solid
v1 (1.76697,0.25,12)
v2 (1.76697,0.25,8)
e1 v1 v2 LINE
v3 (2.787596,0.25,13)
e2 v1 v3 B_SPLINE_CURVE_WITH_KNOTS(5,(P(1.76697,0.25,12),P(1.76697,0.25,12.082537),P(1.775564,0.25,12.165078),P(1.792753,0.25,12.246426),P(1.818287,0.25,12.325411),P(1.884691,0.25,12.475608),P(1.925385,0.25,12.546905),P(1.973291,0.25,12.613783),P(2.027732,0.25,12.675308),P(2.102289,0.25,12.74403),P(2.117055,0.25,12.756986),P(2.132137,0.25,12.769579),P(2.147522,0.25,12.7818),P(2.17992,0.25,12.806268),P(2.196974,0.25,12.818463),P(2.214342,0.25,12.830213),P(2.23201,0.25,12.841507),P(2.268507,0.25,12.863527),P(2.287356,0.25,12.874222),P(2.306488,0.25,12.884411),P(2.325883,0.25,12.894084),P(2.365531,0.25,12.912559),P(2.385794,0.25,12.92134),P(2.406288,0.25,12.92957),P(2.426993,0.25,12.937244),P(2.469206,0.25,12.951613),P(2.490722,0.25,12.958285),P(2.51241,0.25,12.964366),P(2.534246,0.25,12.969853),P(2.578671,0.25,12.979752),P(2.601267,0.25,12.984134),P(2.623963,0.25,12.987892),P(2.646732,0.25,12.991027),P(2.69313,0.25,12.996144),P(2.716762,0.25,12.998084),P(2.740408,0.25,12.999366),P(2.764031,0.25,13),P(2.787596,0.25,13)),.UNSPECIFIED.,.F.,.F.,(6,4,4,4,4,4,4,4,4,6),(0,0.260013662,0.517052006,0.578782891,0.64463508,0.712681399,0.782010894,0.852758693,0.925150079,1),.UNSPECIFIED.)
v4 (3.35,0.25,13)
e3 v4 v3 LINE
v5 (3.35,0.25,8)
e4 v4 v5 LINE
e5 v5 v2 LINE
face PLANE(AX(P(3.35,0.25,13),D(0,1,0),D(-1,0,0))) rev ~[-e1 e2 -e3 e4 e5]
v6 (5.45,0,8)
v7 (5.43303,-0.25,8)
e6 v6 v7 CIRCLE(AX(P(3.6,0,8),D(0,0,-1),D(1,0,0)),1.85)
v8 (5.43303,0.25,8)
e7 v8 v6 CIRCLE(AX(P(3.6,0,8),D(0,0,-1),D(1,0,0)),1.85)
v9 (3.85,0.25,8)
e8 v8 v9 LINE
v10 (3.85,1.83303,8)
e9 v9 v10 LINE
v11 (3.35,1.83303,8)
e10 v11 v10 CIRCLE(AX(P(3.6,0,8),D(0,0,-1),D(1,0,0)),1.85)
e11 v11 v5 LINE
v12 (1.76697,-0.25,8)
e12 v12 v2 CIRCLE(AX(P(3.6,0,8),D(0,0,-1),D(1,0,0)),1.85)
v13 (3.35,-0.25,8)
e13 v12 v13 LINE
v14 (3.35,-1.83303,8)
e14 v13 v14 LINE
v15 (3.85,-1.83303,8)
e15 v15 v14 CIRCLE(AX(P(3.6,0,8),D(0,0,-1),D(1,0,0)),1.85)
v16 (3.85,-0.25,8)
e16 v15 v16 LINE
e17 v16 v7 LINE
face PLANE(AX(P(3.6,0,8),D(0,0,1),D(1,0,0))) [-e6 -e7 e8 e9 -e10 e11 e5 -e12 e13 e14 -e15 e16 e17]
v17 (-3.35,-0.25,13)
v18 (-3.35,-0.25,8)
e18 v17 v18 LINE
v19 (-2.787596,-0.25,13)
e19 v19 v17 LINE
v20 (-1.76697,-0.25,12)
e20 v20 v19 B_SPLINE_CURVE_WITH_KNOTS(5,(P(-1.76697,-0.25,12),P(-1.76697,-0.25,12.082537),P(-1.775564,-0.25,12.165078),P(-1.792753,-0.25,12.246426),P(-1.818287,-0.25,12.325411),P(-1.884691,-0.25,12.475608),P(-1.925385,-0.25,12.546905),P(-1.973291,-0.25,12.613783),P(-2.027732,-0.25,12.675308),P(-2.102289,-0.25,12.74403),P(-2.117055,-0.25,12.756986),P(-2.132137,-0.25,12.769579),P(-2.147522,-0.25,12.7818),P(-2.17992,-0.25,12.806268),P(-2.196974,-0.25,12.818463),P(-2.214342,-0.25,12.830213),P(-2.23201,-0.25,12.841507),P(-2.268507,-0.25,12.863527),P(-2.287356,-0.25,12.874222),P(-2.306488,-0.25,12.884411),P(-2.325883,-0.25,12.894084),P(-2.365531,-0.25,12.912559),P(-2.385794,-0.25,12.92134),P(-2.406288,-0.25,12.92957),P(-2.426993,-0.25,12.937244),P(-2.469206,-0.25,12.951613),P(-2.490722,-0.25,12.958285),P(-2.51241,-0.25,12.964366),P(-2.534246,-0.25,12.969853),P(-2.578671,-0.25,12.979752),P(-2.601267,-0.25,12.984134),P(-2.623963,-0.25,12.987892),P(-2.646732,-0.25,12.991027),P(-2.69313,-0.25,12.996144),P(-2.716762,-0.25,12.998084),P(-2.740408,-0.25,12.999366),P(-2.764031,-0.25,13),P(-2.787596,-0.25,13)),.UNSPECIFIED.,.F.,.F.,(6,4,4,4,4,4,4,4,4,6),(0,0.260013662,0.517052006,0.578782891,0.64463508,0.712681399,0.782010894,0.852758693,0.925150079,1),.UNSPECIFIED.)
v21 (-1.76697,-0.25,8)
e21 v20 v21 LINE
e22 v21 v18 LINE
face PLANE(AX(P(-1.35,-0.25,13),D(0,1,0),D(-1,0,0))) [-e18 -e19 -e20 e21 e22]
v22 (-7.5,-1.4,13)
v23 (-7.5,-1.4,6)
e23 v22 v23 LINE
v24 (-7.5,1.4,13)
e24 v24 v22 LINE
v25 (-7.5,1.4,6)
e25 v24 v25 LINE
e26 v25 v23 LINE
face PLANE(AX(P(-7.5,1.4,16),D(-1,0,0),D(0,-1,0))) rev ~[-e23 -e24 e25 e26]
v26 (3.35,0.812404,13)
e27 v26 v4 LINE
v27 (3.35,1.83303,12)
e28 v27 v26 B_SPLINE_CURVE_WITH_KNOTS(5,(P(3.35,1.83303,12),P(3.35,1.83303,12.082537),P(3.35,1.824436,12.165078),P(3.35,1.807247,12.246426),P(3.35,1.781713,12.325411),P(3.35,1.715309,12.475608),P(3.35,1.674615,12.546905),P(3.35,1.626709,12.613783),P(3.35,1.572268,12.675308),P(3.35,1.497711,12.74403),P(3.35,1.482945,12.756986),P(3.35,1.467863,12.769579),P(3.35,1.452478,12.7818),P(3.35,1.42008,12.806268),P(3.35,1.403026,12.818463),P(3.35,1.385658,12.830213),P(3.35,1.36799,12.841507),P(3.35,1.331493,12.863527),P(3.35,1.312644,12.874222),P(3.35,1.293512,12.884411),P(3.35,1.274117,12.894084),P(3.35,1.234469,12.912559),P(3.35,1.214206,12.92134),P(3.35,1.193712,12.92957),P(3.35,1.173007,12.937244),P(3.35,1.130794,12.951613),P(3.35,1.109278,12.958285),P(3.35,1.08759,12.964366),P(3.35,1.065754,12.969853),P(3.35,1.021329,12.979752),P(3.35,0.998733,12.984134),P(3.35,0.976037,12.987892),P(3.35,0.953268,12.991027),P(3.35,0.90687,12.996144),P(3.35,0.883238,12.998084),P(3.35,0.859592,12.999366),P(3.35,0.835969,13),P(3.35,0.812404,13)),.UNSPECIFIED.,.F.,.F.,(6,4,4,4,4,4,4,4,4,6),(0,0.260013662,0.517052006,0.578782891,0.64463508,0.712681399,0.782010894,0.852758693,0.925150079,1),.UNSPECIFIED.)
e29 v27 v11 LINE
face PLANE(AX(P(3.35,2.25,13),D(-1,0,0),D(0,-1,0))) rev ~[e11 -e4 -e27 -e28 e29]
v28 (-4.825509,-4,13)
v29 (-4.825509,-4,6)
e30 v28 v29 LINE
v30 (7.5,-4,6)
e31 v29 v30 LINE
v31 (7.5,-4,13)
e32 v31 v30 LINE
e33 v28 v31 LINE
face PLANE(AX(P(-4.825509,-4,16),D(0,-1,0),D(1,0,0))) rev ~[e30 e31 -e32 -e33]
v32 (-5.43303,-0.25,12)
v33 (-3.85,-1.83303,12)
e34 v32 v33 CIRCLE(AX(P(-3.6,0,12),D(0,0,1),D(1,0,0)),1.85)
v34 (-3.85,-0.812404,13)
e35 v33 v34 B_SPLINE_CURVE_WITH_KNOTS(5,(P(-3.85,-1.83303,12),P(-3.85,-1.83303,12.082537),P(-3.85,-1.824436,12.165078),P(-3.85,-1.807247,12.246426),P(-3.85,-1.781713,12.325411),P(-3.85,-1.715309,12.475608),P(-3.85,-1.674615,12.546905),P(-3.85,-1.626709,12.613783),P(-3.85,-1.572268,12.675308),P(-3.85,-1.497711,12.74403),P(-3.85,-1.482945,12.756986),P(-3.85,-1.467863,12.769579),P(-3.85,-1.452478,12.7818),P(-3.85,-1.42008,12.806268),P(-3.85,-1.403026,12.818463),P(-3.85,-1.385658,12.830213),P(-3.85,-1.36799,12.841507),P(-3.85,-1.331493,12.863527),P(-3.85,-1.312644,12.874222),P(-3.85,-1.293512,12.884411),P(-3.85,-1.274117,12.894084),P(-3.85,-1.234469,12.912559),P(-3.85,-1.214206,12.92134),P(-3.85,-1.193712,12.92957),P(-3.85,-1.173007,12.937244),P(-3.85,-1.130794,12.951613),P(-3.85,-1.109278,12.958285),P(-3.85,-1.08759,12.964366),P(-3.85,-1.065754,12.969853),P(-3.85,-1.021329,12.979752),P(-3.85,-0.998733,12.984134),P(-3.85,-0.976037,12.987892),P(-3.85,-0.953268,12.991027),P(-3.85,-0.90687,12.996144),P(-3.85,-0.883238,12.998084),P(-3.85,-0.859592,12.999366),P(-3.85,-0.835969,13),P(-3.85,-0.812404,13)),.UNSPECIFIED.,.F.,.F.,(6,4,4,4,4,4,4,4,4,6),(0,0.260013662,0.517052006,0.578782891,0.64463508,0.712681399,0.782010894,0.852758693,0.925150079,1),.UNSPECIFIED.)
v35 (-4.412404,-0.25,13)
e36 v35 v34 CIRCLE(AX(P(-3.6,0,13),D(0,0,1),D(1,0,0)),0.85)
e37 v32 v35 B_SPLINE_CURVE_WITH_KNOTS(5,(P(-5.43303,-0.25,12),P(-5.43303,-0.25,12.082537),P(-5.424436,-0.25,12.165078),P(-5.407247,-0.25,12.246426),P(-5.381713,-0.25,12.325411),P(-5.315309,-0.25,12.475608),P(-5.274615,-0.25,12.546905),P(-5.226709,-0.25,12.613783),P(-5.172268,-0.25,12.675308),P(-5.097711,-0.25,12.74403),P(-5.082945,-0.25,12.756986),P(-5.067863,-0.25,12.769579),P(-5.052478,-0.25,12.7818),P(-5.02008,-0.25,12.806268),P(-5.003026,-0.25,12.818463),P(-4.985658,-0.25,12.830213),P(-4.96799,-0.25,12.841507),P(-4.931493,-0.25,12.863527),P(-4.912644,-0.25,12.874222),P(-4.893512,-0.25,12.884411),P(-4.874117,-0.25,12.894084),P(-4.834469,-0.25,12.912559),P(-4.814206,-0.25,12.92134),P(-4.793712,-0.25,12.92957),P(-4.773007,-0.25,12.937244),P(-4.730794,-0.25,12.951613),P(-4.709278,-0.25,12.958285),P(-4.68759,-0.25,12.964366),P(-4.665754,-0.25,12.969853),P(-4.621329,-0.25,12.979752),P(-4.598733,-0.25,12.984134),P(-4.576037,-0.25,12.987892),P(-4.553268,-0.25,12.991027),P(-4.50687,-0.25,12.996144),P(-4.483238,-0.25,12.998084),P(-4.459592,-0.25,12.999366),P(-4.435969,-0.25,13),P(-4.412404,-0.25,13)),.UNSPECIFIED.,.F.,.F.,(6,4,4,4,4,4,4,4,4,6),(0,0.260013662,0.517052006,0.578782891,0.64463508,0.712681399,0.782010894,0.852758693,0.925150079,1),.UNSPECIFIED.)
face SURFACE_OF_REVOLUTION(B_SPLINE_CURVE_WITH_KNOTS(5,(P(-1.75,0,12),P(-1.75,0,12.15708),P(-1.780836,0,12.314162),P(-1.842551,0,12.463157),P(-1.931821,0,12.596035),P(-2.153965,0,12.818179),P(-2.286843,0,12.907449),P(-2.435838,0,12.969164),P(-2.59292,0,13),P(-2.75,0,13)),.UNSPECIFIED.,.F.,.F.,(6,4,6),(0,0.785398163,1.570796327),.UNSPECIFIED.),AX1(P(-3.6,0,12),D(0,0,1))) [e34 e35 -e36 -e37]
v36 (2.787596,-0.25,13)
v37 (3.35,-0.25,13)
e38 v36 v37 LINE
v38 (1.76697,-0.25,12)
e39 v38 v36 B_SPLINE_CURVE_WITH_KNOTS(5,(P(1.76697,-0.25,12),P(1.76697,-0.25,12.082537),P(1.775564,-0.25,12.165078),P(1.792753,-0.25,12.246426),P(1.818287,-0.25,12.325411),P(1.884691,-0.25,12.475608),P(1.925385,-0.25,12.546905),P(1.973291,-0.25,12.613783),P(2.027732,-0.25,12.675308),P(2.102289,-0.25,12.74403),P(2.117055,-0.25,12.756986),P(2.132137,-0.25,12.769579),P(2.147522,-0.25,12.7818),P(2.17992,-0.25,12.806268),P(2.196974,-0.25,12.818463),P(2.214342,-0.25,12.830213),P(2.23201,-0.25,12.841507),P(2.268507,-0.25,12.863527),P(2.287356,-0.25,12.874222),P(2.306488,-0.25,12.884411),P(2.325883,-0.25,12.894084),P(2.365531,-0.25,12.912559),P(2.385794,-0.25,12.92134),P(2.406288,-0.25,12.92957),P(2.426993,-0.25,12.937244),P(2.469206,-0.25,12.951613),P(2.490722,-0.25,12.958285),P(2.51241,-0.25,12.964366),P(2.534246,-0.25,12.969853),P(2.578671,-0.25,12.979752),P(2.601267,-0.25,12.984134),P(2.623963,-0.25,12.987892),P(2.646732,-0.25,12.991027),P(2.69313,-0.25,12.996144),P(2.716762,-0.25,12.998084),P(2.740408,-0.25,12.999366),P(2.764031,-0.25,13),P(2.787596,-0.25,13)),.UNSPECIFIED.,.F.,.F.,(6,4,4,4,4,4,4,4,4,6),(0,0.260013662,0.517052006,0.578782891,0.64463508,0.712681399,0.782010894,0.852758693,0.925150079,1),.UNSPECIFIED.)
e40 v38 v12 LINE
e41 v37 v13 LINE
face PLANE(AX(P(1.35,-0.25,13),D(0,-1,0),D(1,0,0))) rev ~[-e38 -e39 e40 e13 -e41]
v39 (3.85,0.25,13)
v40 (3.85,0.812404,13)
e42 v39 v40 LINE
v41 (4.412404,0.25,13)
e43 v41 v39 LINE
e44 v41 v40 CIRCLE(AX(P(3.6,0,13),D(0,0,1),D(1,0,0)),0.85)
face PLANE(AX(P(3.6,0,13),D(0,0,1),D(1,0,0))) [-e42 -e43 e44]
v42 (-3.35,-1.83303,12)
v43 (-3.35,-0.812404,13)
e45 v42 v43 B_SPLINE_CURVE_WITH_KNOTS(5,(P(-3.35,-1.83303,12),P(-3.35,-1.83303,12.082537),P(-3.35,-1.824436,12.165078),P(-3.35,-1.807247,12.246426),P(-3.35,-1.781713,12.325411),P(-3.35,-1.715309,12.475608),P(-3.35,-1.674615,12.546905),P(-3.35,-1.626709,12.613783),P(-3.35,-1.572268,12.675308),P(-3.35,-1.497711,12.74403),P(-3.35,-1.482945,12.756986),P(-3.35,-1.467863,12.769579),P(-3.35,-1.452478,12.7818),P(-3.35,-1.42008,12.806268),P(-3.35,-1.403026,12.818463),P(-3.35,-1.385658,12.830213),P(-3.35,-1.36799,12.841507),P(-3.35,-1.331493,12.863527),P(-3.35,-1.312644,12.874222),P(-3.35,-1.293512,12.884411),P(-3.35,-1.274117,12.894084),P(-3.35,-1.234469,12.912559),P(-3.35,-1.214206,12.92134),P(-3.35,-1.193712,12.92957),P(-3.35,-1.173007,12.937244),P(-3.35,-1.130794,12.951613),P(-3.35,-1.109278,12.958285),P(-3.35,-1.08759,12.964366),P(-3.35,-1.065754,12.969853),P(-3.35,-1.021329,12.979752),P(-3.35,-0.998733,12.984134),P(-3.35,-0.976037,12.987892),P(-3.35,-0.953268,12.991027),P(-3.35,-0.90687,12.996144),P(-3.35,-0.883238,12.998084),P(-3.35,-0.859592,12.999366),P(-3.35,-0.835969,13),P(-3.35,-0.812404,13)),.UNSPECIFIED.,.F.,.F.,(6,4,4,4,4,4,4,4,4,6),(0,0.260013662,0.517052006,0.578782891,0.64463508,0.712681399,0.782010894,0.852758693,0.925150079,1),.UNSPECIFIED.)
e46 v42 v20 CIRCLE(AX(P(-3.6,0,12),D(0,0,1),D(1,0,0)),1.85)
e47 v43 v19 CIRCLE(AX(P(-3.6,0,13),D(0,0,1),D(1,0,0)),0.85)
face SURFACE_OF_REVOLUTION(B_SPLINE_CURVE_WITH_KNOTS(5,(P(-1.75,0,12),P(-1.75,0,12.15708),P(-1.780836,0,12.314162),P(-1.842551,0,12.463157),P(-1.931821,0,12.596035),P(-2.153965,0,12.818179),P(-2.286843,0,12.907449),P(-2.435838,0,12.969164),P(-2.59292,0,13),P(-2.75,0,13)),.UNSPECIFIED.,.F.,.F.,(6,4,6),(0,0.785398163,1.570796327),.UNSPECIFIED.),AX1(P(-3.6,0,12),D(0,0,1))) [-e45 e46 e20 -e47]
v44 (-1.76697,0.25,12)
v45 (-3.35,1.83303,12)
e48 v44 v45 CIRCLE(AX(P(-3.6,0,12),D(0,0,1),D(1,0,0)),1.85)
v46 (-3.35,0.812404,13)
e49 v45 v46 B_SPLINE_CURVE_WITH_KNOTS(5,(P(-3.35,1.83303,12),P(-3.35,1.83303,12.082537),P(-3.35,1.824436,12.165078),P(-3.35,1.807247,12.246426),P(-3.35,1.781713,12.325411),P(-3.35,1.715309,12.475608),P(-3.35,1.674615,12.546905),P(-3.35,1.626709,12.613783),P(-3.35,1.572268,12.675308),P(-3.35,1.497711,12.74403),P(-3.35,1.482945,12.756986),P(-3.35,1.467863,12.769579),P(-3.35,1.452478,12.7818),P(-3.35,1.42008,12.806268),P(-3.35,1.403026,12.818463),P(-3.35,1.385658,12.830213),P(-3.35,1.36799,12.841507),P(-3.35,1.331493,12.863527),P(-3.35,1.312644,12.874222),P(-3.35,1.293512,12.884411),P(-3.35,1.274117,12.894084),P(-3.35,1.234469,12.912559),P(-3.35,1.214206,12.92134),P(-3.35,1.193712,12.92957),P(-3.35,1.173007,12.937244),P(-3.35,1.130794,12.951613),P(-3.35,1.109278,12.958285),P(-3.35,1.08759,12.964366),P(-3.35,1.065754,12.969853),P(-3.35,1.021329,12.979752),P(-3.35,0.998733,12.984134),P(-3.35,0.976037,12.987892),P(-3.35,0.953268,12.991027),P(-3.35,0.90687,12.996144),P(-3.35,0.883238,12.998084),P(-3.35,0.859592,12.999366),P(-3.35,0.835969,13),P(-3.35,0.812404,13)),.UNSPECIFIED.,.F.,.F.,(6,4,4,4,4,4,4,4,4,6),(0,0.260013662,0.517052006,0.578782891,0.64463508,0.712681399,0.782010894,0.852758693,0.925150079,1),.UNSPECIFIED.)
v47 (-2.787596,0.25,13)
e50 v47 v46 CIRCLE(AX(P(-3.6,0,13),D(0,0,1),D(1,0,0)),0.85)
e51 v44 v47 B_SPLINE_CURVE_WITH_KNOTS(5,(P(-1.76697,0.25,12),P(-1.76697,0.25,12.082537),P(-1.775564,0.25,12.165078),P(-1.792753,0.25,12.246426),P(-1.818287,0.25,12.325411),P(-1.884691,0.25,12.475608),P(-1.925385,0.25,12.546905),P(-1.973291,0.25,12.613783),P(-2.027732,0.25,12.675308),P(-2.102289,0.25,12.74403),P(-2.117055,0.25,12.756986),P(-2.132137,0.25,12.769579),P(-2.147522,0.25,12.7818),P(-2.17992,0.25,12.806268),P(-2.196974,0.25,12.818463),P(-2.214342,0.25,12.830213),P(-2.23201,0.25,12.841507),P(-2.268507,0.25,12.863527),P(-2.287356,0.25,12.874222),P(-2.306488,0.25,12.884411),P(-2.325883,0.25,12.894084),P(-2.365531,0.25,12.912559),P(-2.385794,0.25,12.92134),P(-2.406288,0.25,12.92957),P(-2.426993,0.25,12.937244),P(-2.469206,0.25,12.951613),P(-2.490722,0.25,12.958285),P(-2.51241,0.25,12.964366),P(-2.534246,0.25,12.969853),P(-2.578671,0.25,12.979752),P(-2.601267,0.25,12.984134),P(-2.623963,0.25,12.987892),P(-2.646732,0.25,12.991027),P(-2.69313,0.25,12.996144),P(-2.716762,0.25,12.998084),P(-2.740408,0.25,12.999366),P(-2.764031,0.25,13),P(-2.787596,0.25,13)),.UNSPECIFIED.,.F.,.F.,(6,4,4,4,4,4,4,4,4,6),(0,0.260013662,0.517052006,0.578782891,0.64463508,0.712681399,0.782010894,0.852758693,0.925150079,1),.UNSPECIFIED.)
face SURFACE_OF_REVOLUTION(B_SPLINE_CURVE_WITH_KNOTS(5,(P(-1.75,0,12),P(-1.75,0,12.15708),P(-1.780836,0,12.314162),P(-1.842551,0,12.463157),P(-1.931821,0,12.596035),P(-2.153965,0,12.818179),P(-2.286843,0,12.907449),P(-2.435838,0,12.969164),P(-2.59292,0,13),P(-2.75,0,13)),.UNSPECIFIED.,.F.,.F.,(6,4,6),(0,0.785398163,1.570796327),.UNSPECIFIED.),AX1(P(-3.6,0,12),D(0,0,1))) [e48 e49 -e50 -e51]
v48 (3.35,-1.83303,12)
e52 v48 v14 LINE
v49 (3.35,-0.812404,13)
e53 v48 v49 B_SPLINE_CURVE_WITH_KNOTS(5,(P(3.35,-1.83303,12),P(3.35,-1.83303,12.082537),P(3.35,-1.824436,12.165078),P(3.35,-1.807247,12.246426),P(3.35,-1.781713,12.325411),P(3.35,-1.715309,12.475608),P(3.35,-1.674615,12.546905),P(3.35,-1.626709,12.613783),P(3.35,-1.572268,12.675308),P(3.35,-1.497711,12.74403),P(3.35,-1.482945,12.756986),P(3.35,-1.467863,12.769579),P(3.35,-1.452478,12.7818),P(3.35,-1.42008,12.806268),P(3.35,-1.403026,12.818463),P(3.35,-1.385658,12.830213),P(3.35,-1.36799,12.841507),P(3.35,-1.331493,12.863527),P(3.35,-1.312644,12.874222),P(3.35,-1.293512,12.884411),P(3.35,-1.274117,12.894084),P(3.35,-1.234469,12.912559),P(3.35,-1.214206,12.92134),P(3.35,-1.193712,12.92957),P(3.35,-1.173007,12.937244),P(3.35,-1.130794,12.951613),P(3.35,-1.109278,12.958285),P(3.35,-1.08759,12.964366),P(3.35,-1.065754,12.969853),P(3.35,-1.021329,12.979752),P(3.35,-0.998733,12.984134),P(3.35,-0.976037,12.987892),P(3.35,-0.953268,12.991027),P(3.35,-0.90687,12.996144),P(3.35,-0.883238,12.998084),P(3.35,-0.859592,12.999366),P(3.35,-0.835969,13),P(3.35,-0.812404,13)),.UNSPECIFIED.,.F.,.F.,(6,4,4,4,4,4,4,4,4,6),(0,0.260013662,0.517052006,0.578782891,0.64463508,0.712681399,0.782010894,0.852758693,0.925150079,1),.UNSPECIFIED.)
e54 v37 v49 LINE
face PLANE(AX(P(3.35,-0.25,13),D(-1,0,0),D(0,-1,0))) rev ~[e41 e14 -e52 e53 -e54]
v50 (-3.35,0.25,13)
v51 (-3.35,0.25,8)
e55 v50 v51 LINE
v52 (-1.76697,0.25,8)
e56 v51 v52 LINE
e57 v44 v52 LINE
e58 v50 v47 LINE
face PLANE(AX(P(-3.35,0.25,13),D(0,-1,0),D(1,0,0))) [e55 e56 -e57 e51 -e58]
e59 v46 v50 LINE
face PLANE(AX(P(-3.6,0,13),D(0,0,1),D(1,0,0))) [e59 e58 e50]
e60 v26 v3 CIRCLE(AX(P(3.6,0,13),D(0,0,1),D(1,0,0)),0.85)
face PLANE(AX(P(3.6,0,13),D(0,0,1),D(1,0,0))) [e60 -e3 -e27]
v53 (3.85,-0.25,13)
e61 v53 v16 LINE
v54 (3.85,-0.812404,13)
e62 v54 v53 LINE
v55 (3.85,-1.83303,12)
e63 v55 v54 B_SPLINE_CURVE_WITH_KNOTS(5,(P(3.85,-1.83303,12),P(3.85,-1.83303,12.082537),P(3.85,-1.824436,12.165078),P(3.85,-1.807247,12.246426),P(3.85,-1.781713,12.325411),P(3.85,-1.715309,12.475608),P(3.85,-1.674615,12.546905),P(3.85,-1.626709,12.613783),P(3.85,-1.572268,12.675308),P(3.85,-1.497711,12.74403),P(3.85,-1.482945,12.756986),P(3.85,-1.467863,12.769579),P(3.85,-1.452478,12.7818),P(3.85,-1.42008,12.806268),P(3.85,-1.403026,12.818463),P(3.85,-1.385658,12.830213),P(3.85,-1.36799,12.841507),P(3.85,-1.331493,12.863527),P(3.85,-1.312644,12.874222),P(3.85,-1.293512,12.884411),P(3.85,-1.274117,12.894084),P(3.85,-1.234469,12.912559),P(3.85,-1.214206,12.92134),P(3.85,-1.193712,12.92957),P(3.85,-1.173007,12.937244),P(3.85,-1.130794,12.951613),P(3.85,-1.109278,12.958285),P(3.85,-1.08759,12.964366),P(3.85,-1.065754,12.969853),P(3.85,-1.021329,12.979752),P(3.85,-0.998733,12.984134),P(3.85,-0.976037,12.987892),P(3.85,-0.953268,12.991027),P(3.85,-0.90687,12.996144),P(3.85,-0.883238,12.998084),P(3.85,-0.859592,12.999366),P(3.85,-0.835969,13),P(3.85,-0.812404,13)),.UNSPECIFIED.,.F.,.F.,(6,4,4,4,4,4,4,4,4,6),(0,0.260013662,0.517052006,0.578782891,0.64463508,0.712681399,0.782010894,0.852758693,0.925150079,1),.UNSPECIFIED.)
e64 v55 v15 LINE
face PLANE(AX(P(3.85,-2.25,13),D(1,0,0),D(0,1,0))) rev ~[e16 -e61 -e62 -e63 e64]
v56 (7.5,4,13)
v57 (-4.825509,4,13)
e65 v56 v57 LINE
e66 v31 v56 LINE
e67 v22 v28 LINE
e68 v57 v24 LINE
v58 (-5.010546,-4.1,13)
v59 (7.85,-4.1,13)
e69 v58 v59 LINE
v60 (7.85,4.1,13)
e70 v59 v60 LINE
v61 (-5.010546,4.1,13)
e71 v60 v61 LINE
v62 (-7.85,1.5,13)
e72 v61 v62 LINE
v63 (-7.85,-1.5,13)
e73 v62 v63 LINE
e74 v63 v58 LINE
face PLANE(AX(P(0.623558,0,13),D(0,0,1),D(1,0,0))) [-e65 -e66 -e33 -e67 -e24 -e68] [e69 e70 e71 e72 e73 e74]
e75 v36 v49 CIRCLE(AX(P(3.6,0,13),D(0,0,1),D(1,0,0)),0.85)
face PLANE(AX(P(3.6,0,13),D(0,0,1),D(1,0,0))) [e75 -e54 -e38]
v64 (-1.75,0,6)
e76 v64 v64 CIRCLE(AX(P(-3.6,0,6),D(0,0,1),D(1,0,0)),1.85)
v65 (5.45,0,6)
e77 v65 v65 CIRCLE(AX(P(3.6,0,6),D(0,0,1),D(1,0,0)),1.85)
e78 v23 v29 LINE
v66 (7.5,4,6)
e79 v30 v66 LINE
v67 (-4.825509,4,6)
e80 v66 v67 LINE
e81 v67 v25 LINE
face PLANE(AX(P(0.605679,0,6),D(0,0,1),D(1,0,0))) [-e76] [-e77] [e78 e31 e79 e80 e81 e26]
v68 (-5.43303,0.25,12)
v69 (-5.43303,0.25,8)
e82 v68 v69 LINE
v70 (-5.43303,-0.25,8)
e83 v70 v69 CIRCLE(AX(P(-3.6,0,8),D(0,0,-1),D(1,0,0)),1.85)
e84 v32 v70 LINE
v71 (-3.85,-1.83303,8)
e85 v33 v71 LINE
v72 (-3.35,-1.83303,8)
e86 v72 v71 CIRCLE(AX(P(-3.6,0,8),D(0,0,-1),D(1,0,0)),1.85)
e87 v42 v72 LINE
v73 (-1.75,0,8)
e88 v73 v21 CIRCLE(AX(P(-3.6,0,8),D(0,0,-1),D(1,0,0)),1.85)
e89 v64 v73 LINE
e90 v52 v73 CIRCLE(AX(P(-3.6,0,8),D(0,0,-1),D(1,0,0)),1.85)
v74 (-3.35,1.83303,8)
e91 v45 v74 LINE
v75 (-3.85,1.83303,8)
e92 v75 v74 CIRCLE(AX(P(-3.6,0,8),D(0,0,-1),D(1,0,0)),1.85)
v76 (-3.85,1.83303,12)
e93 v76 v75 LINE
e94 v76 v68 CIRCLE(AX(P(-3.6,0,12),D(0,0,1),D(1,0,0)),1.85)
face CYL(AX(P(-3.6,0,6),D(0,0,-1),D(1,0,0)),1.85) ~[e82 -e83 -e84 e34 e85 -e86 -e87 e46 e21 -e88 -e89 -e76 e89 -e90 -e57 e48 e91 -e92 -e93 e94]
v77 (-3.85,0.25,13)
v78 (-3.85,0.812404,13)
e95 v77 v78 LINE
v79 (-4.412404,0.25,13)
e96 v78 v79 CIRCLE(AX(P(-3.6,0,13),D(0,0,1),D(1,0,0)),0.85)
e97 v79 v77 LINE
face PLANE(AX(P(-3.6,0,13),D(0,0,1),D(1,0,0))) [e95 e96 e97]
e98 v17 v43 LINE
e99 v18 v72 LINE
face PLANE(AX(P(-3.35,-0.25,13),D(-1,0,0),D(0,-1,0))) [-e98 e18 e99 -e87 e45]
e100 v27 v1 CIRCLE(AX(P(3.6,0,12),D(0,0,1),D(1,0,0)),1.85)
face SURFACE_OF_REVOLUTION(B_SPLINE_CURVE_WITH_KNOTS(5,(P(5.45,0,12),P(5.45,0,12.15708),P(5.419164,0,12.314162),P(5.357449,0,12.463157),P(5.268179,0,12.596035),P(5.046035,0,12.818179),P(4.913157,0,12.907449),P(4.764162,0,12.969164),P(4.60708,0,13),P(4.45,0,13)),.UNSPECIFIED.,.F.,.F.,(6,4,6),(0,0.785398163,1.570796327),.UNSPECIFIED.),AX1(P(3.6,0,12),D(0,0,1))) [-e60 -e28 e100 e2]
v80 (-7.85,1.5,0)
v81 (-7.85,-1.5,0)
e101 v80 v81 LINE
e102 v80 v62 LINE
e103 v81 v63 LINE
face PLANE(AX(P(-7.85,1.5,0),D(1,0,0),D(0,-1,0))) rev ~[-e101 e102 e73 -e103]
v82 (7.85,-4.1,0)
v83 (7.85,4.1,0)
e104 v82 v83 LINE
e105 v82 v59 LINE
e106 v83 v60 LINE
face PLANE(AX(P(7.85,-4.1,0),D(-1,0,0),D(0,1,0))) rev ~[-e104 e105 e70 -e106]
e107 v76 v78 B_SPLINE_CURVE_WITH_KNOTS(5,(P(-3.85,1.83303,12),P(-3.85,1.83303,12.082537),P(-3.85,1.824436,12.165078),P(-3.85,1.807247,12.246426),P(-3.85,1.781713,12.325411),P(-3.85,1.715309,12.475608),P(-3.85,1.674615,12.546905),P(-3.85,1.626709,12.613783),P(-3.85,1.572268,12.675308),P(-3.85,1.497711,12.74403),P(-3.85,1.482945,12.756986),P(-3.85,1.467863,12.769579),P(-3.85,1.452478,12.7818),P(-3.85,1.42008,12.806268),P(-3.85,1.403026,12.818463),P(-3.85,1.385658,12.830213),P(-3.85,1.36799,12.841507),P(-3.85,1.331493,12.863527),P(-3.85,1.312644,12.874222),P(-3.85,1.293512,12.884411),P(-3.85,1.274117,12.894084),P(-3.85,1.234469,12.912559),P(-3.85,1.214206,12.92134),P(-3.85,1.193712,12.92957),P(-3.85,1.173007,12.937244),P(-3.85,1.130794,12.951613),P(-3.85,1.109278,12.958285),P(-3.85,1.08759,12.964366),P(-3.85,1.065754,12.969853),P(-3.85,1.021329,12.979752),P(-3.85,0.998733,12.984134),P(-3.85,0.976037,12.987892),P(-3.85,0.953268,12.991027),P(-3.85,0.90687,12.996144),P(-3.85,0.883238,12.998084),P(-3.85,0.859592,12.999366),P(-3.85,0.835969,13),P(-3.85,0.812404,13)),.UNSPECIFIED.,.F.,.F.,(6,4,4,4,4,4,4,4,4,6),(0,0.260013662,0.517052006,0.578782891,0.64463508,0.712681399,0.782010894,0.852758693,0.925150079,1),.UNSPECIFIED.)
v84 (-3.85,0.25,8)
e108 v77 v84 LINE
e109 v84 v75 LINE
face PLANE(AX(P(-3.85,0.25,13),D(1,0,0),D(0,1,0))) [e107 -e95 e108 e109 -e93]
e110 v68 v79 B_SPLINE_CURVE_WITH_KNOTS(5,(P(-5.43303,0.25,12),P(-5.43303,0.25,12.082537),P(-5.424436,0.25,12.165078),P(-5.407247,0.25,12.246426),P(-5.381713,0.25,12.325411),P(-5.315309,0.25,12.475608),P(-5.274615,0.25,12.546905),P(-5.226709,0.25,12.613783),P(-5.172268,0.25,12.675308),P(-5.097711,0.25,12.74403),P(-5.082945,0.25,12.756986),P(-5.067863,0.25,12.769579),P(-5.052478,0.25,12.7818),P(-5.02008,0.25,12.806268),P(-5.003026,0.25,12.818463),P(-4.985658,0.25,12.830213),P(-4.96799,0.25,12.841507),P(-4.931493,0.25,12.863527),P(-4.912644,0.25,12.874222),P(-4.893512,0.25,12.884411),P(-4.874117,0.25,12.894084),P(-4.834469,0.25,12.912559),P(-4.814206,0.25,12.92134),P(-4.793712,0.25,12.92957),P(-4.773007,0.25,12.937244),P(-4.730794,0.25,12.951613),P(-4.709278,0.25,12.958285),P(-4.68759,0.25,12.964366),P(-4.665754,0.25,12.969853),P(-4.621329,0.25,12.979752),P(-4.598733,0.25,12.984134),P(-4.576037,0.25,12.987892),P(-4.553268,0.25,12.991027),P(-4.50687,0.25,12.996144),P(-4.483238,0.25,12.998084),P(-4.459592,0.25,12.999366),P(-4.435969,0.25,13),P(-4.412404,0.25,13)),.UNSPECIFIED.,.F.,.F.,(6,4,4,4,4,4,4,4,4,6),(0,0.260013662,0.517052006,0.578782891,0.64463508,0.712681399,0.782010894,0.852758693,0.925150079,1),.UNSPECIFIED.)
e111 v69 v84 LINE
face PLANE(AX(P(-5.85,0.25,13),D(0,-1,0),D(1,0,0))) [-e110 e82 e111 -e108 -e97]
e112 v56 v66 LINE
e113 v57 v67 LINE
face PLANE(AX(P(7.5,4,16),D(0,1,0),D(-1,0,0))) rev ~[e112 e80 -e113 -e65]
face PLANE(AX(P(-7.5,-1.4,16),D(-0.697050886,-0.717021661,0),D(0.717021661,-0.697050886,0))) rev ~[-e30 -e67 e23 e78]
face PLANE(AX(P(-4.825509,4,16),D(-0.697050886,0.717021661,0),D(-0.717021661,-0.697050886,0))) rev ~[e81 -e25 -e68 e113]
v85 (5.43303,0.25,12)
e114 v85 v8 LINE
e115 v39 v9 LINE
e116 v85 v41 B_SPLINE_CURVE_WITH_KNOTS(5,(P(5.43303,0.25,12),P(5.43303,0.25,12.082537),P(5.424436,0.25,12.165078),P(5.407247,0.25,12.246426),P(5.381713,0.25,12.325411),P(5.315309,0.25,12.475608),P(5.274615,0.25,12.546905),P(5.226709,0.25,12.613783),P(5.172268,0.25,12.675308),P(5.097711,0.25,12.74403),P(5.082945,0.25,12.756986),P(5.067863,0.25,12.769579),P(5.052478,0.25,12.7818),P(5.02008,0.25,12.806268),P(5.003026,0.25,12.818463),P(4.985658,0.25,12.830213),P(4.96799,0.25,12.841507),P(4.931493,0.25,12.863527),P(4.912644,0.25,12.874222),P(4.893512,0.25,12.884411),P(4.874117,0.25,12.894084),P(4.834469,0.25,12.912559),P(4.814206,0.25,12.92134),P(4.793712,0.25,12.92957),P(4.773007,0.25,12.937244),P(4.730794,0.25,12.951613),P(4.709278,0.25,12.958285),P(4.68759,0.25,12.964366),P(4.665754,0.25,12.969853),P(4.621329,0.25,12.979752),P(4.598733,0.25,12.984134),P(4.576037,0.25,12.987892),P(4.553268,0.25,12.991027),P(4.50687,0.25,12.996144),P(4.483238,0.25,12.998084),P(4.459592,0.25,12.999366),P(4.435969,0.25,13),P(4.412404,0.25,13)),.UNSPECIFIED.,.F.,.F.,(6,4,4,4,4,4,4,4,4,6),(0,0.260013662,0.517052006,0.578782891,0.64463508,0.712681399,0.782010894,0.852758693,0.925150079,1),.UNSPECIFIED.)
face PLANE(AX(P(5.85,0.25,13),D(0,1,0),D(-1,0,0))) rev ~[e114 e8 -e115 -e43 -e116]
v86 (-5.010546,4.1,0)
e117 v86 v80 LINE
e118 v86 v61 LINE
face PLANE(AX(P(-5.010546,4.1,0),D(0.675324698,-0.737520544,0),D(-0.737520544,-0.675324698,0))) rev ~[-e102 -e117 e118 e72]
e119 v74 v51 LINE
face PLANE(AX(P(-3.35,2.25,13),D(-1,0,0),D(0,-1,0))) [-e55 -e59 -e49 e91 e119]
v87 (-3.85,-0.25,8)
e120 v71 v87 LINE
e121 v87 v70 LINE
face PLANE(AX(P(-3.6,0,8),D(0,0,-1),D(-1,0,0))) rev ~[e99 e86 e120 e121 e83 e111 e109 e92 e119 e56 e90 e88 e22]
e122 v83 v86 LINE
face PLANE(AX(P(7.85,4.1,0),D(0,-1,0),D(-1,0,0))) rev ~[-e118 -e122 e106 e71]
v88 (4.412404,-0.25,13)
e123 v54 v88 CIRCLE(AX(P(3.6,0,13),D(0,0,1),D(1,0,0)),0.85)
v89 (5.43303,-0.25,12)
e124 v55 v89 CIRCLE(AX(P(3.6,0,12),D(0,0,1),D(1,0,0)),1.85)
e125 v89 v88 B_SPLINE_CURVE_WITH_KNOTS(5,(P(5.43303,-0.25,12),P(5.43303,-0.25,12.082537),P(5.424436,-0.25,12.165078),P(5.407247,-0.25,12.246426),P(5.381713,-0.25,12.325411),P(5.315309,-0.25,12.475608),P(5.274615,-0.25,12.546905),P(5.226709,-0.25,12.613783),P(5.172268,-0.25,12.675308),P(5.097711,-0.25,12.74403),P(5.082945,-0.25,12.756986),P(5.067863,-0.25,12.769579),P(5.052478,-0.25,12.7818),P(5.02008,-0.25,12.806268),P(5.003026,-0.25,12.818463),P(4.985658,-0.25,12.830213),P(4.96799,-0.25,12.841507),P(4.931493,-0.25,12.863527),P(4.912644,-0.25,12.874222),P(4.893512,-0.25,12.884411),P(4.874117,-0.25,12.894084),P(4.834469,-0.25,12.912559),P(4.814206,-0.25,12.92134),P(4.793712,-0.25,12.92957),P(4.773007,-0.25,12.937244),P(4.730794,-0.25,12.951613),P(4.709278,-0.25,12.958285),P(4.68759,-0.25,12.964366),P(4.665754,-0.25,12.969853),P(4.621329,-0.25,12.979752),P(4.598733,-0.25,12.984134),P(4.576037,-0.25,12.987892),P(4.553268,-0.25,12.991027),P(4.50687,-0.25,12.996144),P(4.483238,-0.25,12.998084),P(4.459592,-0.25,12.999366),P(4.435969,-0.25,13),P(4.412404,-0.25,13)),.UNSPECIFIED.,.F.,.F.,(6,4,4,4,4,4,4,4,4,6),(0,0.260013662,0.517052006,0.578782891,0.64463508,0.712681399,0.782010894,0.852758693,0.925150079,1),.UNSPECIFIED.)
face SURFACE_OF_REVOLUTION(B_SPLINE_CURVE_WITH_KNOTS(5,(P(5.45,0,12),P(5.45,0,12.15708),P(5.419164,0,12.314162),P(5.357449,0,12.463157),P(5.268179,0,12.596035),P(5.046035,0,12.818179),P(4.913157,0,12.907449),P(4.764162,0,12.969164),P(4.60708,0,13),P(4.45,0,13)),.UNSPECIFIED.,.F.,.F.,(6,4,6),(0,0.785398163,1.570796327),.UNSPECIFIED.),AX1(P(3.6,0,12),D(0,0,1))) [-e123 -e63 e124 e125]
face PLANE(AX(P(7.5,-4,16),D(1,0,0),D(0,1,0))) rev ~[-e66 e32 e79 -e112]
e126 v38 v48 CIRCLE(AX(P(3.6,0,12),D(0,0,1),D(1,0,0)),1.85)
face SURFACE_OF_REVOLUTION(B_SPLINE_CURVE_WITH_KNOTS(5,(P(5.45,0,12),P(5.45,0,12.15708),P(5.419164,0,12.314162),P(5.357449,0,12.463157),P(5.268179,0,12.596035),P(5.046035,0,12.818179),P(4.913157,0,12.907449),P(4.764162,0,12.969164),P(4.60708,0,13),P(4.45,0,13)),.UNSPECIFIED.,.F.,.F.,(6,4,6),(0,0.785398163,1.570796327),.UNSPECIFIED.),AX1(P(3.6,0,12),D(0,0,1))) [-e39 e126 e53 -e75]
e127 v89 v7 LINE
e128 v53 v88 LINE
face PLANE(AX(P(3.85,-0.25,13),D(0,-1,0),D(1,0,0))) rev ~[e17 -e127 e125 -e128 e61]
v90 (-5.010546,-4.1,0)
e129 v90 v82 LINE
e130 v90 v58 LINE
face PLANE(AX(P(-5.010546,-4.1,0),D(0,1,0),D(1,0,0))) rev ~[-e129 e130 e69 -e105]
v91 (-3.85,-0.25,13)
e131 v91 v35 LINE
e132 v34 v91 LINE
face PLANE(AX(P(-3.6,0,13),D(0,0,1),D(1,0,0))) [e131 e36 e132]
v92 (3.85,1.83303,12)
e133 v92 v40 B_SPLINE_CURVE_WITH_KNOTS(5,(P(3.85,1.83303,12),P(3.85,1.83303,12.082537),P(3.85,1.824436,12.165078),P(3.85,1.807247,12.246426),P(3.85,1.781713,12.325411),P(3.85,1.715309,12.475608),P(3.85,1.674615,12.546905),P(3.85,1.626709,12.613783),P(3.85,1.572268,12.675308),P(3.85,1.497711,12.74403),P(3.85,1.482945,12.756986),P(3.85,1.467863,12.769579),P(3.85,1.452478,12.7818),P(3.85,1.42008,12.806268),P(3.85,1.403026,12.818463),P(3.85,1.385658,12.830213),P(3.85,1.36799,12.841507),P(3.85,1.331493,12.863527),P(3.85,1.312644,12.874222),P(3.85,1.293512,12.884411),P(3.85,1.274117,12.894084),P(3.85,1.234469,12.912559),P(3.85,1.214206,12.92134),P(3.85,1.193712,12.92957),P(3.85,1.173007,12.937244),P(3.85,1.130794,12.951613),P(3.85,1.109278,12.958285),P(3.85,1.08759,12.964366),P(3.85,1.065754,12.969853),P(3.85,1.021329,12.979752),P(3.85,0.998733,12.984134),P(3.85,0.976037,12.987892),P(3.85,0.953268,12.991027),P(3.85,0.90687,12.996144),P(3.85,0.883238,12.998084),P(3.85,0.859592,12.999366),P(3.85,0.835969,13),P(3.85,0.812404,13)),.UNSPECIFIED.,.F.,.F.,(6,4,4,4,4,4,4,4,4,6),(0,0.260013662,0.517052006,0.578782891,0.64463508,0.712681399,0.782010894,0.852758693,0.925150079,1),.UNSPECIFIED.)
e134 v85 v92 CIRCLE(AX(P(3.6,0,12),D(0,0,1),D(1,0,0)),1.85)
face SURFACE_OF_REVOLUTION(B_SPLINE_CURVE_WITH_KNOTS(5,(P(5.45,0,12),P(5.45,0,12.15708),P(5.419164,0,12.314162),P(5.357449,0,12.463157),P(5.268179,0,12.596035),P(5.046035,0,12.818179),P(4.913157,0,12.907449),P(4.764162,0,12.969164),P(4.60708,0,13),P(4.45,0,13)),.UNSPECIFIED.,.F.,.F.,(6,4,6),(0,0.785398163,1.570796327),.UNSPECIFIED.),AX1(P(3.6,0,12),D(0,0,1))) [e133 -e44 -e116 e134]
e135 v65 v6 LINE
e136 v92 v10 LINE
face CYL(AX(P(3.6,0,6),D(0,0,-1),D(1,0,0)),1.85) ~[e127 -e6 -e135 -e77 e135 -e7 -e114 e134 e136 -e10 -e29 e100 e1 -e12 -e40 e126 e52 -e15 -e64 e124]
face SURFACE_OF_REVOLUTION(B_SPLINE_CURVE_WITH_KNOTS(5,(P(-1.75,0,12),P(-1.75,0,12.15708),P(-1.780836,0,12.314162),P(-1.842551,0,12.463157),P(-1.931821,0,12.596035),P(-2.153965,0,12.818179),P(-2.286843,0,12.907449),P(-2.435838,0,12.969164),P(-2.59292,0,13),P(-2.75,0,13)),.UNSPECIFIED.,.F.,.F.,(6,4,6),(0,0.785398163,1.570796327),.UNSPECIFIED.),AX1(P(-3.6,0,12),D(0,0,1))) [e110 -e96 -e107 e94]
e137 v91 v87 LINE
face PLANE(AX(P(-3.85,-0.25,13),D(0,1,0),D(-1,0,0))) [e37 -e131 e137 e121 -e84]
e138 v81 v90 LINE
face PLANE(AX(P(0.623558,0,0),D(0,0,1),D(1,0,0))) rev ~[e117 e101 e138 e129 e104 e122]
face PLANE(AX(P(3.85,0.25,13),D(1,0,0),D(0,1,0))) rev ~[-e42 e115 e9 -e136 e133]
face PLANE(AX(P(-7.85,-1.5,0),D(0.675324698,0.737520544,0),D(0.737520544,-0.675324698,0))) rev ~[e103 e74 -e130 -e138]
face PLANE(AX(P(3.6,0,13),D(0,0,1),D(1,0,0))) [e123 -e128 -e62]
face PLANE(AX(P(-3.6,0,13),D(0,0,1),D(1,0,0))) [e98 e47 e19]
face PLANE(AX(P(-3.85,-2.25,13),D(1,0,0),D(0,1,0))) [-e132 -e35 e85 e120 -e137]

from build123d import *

# Parameters (mm, degrees)
PAD_DEPTH       = 13
POCKET_DEPTH    = 10
SKETCH003_R     = 1.85
PAD001_DEPTH    = 7
FILLET_R        = 1
POCKET001_DEPTH = 5


with BuildPart() as part:
    # Sketch → Pad (new body)
    with BuildSketch(Plane.XY):
        Polygon((7.85, 4.1), (-5.010546, 4.1), (-7.85, 1.5), (-7.85, -1.5), (-5.010546, -4.1), (7.85, -4.1), align=None)
    extrude(amount=PAD_DEPTH)

    # Sketch002 → Pocket (cut)
    with BuildSketch(Plane.XY.offset(16)):
        Polygon((7.5, 4), (-4.825509, 4), (-7.5, 1.4), (-7.5, -1.4), (-4.825509, -4), (7.5, -4), align=None)
    extrude(amount=-POCKET_DEPTH, mode=Mode.SUBTRACT)

    # Sketch003 (on Face15 of Pocket) → Pad001 (join)
    with BuildSketch(Plane.XY.offset(6)):
        with Locations((-3.6, 0)):
            Circle(SKETCH003_R)
        with Locations((3.6, 0)):
            Circle(SKETCH003_R)
    extrude(amount=PAD001_DEPTH)

    # Fillet
    fillet_edges = [part.edges().sort_by_distance(p)[0] for p in [
        (-5.45, 0, 13),
        (1.75, 0, 13),
    ]]
    fillet(fillet_edges, radius=FILLET_R)

    # Sketch004 (on Face4 of Fillet) → Pocket001 (cut)
    with BuildSketch(Plane.XY.offset(13)):
        Polygon((-3.85, 2.25), (-3.35, 2.25), (-3.35, 0.25), (-1.35, 0.25), (-1.35, -0.25), (-3.35, -0.25), (-3.35, -2.25), (-3.85, -2.25), (-3.85, -0.25), (-5.85, -0.25), (-5.85, 0.25), (-3.85, 0.25), align=None)
        Polygon((3.85, 2.25), (3.35, 2.25), (3.35, 0.25), (1.35, 0.25), (1.35, -0.25), (3.35, -0.25), (3.35, -2.25), (3.85, -2.25), (3.85, -0.25), (5.85, -0.25), (5.85, 0.25), (3.85, 0.25), align=None)
    extrude(amount=-POCKET001_DEPTH, mode=Mode.SUBTRACT)


solid = part.part
